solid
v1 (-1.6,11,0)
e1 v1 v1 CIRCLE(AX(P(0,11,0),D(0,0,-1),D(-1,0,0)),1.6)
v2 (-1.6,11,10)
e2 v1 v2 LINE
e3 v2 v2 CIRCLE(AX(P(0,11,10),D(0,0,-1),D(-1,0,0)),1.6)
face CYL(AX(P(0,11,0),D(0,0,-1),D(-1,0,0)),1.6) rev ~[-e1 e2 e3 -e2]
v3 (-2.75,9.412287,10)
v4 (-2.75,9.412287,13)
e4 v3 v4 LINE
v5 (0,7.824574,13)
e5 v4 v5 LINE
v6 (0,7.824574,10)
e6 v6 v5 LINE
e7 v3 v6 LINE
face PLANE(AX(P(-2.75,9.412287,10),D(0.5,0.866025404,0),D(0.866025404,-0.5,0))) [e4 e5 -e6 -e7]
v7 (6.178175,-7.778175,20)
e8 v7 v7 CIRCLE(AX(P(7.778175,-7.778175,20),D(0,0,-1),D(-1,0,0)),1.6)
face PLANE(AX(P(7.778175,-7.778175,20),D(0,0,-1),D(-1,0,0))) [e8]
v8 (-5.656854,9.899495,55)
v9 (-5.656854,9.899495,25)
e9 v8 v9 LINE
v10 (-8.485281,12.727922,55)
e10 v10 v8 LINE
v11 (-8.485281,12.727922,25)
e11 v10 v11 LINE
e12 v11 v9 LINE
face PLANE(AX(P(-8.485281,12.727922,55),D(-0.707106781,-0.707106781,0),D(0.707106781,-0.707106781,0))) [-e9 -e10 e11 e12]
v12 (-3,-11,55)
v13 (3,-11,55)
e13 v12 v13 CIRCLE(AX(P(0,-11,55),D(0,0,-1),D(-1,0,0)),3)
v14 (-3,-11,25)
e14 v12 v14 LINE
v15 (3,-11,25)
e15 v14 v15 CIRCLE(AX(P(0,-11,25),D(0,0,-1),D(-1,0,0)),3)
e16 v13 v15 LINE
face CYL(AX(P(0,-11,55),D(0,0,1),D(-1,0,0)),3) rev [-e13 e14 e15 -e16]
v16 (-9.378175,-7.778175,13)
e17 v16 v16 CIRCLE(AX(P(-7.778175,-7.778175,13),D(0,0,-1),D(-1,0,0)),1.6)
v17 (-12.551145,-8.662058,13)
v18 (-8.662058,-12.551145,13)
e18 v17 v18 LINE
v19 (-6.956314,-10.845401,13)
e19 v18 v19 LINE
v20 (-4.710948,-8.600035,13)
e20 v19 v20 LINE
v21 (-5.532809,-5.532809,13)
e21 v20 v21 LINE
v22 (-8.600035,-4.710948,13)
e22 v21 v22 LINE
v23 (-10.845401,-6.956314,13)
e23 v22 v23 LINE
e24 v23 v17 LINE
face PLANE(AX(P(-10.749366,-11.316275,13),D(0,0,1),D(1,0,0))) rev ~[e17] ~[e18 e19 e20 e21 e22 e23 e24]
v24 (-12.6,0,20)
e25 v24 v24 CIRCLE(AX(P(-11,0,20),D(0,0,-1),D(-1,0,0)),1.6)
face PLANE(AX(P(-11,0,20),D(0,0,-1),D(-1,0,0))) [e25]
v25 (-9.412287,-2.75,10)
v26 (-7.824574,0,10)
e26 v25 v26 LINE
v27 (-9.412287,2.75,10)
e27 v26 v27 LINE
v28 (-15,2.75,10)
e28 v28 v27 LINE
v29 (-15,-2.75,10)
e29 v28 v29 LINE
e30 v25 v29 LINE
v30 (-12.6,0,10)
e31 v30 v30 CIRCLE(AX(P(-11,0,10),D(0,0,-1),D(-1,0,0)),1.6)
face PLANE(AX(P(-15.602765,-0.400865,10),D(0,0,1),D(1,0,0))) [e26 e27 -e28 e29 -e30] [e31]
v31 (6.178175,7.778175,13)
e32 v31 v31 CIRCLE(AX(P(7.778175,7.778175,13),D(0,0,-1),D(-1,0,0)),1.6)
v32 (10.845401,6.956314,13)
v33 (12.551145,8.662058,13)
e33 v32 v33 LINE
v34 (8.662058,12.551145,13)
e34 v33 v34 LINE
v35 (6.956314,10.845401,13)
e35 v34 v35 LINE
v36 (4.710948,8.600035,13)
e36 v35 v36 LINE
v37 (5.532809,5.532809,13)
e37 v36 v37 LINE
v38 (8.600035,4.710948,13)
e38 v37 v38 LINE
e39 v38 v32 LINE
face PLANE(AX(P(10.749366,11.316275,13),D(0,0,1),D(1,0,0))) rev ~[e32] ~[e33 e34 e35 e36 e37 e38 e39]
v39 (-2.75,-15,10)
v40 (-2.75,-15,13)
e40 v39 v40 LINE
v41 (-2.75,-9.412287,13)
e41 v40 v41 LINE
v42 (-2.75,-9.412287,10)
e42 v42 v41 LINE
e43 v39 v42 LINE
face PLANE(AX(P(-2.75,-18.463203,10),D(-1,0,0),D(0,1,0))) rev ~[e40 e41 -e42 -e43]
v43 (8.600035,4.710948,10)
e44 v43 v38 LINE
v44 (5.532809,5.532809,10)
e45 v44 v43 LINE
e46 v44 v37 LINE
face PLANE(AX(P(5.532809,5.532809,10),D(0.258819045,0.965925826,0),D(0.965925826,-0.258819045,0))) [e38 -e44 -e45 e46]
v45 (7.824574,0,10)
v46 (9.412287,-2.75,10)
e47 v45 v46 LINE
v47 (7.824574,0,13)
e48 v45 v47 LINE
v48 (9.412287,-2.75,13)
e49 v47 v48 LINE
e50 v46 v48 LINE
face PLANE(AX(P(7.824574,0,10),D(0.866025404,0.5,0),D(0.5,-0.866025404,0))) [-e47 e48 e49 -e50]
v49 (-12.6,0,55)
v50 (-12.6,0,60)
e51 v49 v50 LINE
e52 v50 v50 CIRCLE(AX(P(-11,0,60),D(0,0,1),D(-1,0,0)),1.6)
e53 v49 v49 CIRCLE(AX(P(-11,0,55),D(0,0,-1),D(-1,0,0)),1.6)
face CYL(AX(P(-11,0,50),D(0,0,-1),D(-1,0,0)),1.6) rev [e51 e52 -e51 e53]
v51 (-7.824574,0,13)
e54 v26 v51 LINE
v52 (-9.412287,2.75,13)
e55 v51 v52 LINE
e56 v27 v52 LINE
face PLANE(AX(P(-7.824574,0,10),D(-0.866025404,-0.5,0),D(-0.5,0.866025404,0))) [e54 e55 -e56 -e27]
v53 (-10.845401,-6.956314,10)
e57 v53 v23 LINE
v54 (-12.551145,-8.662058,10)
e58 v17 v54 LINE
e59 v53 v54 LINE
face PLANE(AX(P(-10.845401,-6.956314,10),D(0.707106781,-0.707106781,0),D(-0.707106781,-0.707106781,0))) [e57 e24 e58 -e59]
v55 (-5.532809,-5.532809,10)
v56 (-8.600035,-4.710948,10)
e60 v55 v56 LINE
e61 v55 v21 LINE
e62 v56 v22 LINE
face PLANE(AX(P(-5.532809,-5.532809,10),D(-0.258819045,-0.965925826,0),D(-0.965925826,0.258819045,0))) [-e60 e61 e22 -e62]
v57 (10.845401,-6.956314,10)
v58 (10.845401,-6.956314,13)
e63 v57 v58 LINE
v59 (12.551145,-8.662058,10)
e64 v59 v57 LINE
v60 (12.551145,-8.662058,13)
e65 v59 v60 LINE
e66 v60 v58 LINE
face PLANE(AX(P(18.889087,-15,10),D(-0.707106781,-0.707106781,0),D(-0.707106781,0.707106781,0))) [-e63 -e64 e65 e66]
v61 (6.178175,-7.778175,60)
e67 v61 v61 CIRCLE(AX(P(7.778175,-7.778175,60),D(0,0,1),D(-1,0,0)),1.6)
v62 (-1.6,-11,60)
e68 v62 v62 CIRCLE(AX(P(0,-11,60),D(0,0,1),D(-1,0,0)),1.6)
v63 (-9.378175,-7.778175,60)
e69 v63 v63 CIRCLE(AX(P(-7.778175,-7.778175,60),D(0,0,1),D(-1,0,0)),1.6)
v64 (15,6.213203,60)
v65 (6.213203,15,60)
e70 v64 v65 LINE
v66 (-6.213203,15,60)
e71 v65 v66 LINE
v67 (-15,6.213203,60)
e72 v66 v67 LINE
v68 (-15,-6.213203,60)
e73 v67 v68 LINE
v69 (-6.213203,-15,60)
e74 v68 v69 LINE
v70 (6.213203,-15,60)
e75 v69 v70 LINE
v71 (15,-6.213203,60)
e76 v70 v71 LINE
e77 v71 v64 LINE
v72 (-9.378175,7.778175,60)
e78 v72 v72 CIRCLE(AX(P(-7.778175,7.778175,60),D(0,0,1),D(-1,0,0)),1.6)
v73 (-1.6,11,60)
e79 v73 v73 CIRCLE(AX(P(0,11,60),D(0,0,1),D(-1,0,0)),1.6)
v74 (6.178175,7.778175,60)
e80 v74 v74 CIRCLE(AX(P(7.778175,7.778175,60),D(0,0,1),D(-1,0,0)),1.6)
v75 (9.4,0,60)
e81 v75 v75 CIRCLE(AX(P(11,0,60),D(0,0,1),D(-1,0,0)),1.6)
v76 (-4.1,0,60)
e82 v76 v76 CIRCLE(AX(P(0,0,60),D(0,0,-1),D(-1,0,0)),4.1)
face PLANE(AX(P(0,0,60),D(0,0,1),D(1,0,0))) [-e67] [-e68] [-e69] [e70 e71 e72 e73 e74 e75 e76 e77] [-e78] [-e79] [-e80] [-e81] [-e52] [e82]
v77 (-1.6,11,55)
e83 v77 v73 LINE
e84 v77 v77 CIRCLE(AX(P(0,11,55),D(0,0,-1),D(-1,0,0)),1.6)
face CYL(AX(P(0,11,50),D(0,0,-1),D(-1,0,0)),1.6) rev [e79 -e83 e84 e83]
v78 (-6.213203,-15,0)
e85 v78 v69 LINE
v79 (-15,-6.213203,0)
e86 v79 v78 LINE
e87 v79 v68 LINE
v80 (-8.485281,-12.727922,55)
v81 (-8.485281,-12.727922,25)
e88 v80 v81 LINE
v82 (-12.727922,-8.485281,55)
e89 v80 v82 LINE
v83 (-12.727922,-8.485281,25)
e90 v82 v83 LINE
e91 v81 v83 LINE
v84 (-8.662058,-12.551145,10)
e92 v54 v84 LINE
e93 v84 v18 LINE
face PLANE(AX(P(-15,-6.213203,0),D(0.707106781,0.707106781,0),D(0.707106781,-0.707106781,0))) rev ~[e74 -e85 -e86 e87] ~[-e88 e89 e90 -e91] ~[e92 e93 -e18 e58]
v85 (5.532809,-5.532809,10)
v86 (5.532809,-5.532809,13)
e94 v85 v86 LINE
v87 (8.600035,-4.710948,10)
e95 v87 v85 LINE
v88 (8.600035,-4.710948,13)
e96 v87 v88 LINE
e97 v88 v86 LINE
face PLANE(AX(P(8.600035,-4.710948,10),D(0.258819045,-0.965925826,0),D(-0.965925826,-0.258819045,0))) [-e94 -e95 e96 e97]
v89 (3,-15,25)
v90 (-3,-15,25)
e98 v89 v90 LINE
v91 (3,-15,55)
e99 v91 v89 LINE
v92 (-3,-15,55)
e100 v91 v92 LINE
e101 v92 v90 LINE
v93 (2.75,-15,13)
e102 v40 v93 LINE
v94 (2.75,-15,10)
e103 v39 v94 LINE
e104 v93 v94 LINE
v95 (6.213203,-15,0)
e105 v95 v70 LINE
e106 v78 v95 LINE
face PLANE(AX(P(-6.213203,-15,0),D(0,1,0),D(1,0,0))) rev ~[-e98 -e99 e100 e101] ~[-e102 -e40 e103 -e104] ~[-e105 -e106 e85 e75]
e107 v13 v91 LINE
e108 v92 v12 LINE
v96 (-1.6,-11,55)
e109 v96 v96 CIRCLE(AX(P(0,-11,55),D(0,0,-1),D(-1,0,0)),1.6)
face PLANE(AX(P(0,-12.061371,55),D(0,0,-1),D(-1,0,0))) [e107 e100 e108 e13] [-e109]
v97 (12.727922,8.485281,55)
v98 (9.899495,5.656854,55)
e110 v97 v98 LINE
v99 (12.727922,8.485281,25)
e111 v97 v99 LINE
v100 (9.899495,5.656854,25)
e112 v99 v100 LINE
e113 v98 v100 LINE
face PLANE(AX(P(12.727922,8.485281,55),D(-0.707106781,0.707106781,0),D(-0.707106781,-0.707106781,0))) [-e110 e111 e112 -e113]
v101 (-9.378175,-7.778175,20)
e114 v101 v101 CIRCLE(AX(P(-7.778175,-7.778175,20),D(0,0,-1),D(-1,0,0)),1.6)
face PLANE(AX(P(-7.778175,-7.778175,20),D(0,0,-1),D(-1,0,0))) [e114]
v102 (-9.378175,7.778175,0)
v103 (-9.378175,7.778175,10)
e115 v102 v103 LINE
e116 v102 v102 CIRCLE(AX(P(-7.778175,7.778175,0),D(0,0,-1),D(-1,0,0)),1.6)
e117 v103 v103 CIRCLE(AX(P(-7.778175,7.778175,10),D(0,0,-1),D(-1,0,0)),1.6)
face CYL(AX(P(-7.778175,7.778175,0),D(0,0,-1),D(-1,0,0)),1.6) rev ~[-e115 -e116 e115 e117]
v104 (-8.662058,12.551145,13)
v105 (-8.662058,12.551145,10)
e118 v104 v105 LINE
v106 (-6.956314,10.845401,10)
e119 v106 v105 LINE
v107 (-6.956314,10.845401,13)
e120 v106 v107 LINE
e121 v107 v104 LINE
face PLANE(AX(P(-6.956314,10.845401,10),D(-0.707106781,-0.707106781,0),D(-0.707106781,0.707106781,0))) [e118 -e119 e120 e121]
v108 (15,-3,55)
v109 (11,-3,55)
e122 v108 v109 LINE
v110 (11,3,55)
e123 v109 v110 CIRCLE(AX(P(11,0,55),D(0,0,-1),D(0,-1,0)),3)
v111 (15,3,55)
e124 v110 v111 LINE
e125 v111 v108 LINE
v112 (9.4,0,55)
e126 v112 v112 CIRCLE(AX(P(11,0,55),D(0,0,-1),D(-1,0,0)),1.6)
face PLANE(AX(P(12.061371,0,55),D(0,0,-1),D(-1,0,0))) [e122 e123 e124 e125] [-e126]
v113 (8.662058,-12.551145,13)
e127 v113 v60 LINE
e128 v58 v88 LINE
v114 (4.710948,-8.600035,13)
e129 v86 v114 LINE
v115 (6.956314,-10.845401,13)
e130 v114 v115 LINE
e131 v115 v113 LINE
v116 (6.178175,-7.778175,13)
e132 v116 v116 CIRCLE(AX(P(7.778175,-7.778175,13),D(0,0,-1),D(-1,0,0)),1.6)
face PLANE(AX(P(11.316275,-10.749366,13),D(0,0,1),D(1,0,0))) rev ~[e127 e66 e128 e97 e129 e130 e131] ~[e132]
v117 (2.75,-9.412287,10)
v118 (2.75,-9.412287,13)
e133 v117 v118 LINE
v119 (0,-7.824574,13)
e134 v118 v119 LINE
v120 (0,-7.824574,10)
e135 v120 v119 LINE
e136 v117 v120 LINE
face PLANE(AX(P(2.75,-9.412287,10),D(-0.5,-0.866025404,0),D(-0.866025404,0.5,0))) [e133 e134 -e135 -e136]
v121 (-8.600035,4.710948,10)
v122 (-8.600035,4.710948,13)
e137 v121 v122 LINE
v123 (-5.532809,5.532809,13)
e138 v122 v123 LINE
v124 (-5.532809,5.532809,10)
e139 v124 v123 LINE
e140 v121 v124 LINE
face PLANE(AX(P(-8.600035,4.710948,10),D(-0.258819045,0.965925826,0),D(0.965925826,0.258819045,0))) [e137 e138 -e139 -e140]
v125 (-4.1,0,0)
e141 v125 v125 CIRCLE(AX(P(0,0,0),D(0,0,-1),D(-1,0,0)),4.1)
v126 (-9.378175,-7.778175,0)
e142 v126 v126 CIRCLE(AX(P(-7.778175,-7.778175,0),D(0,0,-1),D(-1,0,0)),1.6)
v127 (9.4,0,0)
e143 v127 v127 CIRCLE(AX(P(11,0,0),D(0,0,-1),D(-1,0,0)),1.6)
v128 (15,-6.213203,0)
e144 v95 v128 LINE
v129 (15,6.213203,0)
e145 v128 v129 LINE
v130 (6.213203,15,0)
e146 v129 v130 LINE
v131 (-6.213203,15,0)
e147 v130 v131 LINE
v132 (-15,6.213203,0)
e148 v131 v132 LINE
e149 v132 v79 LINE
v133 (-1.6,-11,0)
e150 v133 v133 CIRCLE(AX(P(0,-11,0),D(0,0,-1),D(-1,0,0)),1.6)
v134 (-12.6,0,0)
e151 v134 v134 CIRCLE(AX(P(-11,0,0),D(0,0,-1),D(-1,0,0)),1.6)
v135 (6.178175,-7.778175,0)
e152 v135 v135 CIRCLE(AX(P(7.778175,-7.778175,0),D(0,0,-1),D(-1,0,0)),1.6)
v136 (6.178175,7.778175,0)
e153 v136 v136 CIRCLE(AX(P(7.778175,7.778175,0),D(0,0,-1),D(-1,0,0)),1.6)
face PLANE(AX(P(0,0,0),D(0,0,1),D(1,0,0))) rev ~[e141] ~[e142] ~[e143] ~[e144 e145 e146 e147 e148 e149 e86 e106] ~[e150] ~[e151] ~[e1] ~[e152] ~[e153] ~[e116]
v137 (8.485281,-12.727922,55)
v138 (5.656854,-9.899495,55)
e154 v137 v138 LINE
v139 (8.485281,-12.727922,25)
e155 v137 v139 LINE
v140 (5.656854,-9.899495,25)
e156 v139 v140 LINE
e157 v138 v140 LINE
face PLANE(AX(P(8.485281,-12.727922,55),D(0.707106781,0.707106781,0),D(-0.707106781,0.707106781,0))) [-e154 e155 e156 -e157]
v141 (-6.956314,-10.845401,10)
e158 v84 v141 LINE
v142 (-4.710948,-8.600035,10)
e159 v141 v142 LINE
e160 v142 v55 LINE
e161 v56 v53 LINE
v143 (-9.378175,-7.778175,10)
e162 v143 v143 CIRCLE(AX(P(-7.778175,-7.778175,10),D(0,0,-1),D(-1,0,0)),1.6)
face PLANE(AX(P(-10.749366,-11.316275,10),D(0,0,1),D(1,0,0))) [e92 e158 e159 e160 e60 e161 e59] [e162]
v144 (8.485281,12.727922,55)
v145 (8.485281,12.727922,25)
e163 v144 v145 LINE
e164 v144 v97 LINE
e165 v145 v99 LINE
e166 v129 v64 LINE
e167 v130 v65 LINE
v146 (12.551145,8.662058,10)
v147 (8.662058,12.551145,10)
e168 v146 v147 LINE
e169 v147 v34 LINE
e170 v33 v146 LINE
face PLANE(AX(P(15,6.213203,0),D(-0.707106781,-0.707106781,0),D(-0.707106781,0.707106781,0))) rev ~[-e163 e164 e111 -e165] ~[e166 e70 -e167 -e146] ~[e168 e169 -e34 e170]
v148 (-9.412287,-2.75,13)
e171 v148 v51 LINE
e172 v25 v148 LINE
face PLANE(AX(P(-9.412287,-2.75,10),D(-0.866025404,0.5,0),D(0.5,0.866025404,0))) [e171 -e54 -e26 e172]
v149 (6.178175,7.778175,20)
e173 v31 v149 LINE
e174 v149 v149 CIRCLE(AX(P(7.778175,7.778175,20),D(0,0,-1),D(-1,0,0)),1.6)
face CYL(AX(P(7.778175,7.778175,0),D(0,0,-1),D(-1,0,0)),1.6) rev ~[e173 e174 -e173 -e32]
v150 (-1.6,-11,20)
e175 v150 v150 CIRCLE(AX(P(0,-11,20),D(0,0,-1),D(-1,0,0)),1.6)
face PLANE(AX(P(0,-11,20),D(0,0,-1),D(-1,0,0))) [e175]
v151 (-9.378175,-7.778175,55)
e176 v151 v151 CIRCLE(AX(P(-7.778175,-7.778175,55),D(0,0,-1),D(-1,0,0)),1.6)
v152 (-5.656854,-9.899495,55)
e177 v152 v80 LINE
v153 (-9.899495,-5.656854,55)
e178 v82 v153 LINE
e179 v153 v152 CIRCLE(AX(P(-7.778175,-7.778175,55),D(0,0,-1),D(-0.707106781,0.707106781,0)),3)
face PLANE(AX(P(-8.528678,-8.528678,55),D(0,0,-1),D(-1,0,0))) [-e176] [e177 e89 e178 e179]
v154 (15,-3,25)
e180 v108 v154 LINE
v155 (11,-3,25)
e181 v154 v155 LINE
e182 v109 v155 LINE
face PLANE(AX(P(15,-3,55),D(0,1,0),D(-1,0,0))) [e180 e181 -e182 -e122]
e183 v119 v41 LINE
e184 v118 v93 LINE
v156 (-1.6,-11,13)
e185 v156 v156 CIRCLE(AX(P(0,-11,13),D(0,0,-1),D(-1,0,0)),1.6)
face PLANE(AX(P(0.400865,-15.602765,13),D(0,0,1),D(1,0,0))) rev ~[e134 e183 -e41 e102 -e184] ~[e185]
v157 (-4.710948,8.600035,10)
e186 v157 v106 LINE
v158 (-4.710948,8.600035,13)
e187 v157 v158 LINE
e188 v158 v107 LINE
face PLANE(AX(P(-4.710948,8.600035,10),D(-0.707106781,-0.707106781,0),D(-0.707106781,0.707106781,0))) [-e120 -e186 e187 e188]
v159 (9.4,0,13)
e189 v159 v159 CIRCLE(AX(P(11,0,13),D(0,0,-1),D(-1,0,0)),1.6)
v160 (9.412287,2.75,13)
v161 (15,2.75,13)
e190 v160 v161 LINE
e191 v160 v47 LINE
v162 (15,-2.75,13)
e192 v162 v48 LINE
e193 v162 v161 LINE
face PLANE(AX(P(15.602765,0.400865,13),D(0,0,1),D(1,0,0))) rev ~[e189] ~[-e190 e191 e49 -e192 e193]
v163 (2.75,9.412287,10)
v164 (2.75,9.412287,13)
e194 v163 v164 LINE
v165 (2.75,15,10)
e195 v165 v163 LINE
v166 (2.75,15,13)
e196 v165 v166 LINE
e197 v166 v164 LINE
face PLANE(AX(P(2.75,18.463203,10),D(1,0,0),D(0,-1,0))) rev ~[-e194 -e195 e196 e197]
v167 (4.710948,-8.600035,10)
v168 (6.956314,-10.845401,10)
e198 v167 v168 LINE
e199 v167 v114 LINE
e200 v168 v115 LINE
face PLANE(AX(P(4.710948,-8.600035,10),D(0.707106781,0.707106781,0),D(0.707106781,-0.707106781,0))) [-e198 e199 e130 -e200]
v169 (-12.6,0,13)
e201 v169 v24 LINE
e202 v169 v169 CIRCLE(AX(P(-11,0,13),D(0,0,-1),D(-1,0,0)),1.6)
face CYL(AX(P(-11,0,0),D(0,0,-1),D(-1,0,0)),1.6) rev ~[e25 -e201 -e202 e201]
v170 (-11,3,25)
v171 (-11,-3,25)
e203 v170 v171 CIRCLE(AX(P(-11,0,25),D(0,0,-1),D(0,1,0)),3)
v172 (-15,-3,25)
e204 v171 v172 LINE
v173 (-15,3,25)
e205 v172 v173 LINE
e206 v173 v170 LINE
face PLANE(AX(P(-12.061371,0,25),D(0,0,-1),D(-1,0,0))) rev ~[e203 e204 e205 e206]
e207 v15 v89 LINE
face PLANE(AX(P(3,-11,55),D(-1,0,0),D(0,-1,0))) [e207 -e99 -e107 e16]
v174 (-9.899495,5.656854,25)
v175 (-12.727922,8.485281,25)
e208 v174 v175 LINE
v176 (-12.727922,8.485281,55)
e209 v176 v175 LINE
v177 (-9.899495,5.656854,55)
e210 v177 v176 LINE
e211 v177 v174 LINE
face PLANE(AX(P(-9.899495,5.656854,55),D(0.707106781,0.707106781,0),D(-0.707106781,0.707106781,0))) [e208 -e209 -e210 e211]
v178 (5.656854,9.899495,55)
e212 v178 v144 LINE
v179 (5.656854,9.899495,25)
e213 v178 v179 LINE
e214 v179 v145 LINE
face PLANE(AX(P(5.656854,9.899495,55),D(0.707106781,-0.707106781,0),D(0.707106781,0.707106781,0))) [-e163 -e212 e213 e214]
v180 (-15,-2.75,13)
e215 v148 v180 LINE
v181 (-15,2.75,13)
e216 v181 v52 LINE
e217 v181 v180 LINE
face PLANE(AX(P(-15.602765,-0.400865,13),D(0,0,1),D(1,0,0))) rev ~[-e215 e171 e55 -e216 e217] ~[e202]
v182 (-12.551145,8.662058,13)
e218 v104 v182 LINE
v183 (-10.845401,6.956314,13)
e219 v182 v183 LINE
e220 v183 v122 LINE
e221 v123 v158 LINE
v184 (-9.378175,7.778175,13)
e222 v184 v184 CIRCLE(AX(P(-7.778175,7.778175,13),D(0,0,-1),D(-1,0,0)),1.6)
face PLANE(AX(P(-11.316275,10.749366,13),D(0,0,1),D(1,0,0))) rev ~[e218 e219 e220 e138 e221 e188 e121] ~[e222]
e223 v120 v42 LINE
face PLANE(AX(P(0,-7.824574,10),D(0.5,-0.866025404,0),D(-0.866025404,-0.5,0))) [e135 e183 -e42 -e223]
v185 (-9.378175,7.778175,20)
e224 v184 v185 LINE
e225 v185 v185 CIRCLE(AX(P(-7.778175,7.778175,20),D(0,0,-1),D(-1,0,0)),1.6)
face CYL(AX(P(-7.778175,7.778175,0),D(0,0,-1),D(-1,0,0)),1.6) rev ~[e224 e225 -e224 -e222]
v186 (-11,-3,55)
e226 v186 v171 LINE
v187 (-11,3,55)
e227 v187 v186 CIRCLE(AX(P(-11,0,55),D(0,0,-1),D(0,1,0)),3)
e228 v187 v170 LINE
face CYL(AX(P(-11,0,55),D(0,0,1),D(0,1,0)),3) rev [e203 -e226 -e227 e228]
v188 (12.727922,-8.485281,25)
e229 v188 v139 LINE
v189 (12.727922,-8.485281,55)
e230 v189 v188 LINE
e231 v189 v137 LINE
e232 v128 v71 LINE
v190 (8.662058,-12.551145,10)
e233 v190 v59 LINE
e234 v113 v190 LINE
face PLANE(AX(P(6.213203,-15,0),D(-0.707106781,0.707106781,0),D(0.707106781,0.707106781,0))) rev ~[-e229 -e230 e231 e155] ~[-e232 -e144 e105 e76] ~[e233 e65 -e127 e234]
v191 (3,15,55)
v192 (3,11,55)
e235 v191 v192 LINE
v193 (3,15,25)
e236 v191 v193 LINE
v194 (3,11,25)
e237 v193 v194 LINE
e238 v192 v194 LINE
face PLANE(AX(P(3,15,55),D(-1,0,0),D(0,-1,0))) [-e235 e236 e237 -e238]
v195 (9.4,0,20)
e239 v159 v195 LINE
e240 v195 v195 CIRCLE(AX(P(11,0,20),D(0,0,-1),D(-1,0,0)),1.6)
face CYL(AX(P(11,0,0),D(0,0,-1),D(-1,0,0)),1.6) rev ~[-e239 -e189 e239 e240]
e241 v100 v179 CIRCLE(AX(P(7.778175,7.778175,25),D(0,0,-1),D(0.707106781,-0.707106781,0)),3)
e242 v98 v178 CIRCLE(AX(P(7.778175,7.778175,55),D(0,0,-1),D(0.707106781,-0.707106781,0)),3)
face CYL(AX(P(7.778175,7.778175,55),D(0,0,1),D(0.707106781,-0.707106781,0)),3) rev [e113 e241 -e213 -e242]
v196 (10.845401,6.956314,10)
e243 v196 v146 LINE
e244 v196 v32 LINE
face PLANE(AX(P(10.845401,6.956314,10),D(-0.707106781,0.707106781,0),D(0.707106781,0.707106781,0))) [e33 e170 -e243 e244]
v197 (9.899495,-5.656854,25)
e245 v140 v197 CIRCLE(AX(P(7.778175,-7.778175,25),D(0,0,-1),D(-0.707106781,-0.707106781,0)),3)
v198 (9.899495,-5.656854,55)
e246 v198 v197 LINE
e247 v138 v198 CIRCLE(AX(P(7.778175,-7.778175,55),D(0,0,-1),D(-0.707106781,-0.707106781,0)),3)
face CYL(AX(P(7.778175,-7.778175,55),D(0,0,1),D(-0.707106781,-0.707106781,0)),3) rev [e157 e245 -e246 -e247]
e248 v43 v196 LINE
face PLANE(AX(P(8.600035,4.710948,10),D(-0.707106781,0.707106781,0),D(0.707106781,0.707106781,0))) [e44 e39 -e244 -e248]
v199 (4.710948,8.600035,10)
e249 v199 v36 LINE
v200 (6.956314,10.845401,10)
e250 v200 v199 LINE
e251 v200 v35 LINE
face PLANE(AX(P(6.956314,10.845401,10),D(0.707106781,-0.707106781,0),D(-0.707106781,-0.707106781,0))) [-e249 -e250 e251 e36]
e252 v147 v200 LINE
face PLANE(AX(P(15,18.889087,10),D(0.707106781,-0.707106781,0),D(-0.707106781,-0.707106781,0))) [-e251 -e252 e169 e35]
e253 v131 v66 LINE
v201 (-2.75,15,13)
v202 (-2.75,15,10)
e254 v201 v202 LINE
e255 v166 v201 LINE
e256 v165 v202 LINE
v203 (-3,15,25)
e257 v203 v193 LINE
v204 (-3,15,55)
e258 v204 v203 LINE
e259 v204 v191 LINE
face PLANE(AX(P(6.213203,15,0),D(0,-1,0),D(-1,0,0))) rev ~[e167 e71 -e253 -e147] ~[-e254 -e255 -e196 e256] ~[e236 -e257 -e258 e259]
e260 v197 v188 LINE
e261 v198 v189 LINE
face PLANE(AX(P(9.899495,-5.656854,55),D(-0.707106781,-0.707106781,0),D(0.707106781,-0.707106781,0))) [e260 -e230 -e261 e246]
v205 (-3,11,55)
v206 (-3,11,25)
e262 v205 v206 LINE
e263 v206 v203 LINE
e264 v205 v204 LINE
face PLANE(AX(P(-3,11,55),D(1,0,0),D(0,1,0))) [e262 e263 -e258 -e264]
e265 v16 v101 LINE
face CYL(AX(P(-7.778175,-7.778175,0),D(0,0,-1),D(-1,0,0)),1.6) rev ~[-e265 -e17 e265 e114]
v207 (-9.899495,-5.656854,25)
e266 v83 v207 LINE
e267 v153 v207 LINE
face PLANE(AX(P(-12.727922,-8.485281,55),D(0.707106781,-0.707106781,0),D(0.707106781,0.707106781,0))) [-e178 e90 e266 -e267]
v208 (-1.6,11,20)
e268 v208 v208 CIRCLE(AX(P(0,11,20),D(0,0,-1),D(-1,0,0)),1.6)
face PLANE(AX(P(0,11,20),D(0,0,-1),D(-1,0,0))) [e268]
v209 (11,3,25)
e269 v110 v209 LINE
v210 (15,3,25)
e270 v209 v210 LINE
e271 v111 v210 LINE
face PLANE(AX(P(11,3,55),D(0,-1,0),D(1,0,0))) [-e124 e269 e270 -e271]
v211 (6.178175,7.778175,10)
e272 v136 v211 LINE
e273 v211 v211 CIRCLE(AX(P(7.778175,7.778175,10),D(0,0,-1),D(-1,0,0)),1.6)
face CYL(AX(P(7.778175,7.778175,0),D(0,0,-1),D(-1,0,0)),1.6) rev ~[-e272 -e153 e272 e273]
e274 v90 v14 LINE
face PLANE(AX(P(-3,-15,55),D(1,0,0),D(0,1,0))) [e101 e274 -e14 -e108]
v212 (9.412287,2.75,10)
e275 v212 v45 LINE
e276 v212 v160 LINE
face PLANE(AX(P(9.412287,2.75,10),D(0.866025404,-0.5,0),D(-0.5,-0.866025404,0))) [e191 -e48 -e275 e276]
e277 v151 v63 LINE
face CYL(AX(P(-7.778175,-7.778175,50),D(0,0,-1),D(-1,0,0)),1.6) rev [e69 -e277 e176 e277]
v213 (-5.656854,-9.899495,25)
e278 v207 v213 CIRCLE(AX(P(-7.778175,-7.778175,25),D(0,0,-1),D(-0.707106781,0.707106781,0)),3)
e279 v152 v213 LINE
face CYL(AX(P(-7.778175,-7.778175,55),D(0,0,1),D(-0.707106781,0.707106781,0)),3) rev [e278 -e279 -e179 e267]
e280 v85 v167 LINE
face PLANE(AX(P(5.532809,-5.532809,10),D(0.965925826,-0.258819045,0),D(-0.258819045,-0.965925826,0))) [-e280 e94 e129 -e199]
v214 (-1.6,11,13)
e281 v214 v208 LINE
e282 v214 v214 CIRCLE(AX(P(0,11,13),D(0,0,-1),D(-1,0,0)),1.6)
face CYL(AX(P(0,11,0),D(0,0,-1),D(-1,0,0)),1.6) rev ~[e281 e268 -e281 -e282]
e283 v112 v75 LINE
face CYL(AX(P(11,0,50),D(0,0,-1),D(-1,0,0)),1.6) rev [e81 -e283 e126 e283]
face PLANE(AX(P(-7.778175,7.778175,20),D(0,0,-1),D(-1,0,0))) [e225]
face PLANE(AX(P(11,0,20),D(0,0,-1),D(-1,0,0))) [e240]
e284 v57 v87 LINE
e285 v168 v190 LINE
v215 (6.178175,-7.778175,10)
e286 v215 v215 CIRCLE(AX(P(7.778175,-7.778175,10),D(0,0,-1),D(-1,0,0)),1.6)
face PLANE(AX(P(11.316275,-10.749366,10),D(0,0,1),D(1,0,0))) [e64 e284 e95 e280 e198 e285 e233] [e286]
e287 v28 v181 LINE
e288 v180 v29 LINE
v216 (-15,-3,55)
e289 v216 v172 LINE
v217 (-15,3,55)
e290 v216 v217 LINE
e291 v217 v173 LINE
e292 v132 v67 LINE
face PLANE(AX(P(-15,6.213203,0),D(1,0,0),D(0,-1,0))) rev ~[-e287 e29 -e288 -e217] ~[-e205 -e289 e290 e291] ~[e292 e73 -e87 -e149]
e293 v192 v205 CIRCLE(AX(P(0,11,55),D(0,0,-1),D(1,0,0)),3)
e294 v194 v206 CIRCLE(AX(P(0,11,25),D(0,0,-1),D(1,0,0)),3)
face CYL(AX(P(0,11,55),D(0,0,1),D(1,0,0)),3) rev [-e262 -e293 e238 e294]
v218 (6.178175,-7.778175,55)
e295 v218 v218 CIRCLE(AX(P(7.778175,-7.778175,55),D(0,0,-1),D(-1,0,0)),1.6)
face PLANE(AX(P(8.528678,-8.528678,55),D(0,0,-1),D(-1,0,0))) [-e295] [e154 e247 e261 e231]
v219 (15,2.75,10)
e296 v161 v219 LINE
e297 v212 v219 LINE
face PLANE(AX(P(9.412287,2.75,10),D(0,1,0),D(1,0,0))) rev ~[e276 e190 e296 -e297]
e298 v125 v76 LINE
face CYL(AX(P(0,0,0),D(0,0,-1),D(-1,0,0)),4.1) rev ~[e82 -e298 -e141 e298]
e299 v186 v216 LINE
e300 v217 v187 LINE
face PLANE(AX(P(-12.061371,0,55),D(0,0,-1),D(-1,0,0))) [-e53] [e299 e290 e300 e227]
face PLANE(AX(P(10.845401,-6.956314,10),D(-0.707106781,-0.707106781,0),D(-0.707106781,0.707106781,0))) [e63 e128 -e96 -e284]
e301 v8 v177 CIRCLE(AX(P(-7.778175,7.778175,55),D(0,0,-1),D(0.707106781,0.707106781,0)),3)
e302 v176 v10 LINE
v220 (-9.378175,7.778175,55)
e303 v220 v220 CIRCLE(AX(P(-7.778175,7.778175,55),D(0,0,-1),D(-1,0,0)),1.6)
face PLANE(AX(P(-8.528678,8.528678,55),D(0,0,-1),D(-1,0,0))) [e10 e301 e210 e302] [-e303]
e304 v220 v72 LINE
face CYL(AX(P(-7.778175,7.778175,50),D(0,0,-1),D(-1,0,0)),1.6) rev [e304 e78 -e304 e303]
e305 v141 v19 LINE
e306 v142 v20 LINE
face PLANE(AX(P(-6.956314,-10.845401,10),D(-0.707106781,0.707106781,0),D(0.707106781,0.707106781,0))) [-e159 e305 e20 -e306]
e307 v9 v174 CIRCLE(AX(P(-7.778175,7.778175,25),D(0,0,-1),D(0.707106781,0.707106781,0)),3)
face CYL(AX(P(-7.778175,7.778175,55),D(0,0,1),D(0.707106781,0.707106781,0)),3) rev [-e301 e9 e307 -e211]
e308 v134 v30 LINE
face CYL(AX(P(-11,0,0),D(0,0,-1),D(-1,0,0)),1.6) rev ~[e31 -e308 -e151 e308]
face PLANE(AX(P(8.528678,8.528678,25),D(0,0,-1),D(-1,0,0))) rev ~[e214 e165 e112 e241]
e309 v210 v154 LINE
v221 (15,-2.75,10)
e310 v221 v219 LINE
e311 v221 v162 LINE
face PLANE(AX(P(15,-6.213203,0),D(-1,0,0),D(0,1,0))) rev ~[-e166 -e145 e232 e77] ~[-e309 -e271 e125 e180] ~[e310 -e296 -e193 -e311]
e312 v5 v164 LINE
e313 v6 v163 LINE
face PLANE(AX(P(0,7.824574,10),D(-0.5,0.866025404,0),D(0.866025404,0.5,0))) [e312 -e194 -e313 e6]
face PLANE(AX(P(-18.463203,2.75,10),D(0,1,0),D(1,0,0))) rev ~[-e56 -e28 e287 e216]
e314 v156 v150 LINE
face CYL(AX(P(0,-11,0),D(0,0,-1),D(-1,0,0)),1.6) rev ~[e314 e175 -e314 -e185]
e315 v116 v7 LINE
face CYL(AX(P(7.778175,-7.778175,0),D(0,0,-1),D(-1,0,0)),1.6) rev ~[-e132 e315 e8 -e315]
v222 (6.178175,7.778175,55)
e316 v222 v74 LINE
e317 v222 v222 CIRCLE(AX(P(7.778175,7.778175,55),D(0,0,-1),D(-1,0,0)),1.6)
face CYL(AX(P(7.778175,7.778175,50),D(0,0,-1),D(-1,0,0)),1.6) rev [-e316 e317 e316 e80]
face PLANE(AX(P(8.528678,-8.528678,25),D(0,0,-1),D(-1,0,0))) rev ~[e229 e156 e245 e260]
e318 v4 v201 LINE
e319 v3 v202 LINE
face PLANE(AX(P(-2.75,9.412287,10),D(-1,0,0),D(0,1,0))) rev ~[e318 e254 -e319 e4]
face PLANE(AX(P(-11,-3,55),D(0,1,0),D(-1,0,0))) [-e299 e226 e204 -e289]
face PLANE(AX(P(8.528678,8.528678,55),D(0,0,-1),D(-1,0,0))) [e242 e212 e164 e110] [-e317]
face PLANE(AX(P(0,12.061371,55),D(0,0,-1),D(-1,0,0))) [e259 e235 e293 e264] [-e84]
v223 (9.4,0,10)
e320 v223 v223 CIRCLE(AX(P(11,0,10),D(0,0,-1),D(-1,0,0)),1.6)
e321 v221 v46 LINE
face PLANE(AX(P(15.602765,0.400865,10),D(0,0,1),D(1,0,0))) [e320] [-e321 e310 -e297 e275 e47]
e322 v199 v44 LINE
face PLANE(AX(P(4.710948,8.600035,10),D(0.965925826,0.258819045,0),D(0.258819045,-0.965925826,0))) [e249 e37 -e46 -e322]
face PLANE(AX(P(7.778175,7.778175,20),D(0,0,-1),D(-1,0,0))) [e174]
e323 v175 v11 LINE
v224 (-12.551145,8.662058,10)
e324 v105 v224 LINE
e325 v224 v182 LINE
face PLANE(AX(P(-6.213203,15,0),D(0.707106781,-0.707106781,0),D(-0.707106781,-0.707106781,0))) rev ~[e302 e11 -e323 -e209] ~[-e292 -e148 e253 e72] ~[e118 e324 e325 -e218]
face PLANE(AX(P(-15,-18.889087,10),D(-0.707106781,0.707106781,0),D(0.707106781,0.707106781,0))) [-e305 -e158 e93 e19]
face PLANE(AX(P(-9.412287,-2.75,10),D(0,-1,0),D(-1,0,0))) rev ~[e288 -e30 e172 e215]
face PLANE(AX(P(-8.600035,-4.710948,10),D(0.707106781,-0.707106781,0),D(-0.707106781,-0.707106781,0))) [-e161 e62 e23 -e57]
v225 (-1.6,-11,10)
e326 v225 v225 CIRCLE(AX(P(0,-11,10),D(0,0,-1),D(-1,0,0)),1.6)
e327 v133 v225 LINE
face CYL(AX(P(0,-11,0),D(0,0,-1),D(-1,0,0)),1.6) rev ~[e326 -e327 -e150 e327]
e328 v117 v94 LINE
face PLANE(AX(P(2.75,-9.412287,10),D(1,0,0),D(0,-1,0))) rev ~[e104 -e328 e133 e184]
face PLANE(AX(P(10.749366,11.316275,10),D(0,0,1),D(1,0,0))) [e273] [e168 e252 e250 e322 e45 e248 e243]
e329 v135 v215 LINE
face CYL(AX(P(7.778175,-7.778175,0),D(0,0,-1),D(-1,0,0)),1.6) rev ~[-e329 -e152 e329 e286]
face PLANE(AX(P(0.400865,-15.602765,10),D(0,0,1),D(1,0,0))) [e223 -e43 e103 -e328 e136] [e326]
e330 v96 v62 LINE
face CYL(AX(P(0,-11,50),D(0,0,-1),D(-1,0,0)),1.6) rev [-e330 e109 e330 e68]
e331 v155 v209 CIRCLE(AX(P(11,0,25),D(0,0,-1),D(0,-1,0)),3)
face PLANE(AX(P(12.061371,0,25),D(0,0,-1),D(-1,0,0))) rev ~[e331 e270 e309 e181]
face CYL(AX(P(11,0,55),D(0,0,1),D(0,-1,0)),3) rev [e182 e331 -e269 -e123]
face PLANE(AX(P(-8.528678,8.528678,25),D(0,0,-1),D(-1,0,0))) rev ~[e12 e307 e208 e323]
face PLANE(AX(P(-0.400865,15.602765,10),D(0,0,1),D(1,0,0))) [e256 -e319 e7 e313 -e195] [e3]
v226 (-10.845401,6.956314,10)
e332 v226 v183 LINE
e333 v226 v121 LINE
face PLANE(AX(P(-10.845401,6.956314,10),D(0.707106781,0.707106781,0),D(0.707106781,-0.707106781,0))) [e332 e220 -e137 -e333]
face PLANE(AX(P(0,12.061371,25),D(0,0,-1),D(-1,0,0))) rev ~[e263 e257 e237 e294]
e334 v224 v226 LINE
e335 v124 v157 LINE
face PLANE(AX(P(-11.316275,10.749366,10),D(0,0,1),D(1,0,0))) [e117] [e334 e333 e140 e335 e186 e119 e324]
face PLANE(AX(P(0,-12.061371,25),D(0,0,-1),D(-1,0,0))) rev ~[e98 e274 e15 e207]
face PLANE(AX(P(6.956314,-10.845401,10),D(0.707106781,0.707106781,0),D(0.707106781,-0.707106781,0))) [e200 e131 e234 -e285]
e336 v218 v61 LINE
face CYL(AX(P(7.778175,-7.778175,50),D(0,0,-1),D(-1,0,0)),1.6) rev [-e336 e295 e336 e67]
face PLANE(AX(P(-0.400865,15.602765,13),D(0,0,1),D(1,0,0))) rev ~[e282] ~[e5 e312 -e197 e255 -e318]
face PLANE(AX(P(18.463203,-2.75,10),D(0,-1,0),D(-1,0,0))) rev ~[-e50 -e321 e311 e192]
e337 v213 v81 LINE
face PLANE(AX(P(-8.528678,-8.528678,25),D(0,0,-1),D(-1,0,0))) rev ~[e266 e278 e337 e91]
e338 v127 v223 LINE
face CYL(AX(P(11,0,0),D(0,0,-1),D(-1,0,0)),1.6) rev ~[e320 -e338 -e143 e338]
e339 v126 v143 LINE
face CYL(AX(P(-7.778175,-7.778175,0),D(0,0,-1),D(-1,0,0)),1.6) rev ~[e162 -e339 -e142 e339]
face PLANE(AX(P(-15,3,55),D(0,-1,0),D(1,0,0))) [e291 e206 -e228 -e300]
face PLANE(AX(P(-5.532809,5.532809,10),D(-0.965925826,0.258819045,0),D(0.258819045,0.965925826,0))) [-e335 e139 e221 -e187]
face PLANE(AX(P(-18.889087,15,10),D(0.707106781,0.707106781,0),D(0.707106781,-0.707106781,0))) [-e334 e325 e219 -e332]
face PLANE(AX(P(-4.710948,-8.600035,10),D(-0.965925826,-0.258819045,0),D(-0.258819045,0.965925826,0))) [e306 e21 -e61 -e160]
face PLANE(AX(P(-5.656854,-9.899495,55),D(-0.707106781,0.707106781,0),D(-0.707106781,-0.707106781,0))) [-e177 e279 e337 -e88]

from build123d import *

# Parameters (mm, degrees)
SALIENTE_EXTRUIR1_DEPTH = 60
CROQUIS2_R              = 1.6
CORTAR_EXTRUIR1_DEPTH   = 20
CORTAR_EXTRUIR2_START   = -10
CORTAR_EXTRUIR2_DEPTH   = 3
CROQUIS4_R              = 4.1
CORTAR_EXTRUIR3_DEPTH   = 64.639610307
CORTAR_EXTRUIR4_START   = -10
CROQUIS6_R              = 1.6
CORTAR_EXTRUIR4_DEPTH   = 10
CORTAR_EXTRUIR5_START   = -5
CORTAR_EXTRUIR5_DEPTH   = 30


with BuildPart() as part:
    # Croquis1 → Saliente-Extruir1 (new body)
    with BuildSketch(Plane.XY):
        Polygon((15, -6.213203436), (15, 6.213203436), (6.213203436, 15), (-6.213203436, 15), (-15, 6.213203436), (-15, -6.213203436), (-6.213203436, -15), (6.213203436, -15), align=None)
    extrude(amount=SALIENTE_EXTRUIR1_DEPTH)

    # Croquis2 → Cortar-Extruir1 (cut)
    with BuildSketch(Plane(origin=(0, 0, 0), x_dir=(-1, 0, 0), z_dir=(0, 0, -1))):
        with Locations((0, 11)):
            Circle(CROQUIS2_R)
        with Locations((7.778174593, 7.778174593)):
            Circle(CROQUIS2_R)
        with Locations((11, 0)):
            Circle(CROQUIS2_R)
        with Locations((7.778174593, -7.778174593)):
            Circle(CROQUIS2_R)
        with Locations((0, -11)):
            Circle(CROQUIS2_R)
        with Locations((-7.778174593, -7.778174593)):
            Circle(CROQUIS2_R)
        with Locations((-11, 0)):
            Circle(CROQUIS2_R)
        with Locations((-7.778174593, 7.778174593)):
            Circle(CROQUIS2_R)
    extrude(amount=-CORTAR_EXTRUIR1_DEPTH, mode=Mode.SUBTRACT)

    # Croquis3 → Cortar-Extruir2 (cut)
    with BuildSketch(Plane(origin=(0, 0, 0), x_dir=(-1, 0, 0), z_dir=(0, 0, -1)).offset(CORTAR_EXTRUIR2_START)):
        Polygon((-2.75, 12.58771324), (-2.75, 18.463203436), (2.75, 23.963203436), (2.75, 12.58771324), (2.75, 9.41228676), (0, 7.824573519), (-2.75, 9.41228676), align=None)
        Polygon((6.956313744, 10.84540104), (11.110912703, 15), (18.889087297, 15), (10.84540104, 6.956313744), (8.600035443, 4.710948146), (5.532808996, 5.532808996), (4.710948146, 8.600035443), align=None)
        Polygon((12.58771324, 2.75), (18.463203436, 2.75), (23.963203436, -2.75), (12.58771324, -2.75), (9.41228676, -2.75), (7.824573519, 0), (9.41228676, 2.75), align=None)
        Polygon((10.84540104, -6.956313744), (15, -11.110912703), (15, -18.889087297), (6.956313744, -10.84540104), (4.710948146, -8.600035443), (5.532808996, -5.532808996), (8.600035443, -4.710948146), align=None)
        Polygon((2.75, -12.58771324), (2.75, -18.463203436), (-2.75, -23.963203436), (-2.75, -12.58771324), (-2.75, -9.41228676), (0, -7.824573519), (2.75, -9.41228676), align=None)
        Polygon((-6.956313744, -10.84540104), (-11.110912703, -15), (-18.889087297, -15), (-10.84540104, -6.956313744), (-8.600035443, -4.710948146), (-5.532808995, -5.532808996), (-4.710948146, -8.600035443), align=None)
        Polygon((-12.58771324, -2.75), (-18.463203436, -2.75), (-23.963203436, 2.75), (-12.58771324, 2.75), (-9.41228676, 2.75), (-7.824573519, 0), (-9.41228676, -2.75), align=None)
        Polygon((-10.84540104, 6.956313744), (-15, 11.110912703), (-15, 18.889087297), (-6.956313744, 10.84540104), (-4.710948146, 8.600035443), (-5.532808996, 5.532808996), (-8.600035443, 4.710948146), align=None)
    extrude(amount=-CORTAR_EXTRUIR2_DEPTH, mode=Mode.SUBTRACT)

    # Croquis4 → Cortar-Extruir3 (cut, through all)
    with BuildSketch(Plane(origin=(0, 0, 0), x_dir=(-1, 0, 0), z_dir=(0, 0, -1))):
        Circle(CROQUIS4_R)
    extrude(amount=-CORTAR_EXTRUIR3_DEPTH, mode=Mode.SUBTRACT)

    # Croquis6 → Cortar-Extruir4 (cut)
    with BuildSketch(Plane.XY.offset(60).offset(CORTAR_EXTRUIR4_START)):
        with Locations(Location((0, 11, 0), (0, 0, 180))):
            Circle(CROQUIS6_R)
        with Locations(Location((7.778174593, 7.778174593, 0), (0, 0, 180))):
            Circle(CROQUIS6_R)
        with Locations(Location((11, 0, 0), (0, 0, 180))):
            Circle(CROQUIS6_R)
        with Locations(Location((7.778174593, -7.778174593, 0), (0, 0, 180))):
            Circle(CROQUIS6_R)
        with Locations(Location((0, -11, 0), (0, 0, 180))):
            Circle(CROQUIS6_R)
        with Locations(Location((-7.778174593, -7.778174593, 0), (0, 0, 180))):
            Circle(CROQUIS6_R)
        with Locations(Location((-11, 0, 0), (0, 0, 180))):
            Circle(CROQUIS6_R)
        with Locations(Location((-7.778174593, 7.778174593, 0), (0, 0, 180))):
            Circle(CROQUIS6_R)
    extrude(amount=CORTAR_EXTRUIR4_DEPTH, mode=Mode.SUBTRACT)

    # Croquis7 → Cortar-Extruir5 (cut)
    with BuildSketch(Plane.XY.offset(60).offset(CORTAR_EXTRUIR5_START)):
        with BuildLine():
            Line((-3, 11), (-3, 15))
            Line((-3, 15), (3, 15))
            Line((3, 15), (3, 11))
            ThreePointArc((3, 11), (0, 8), (-3, 11))
        make_face()
        with BuildLine():
            Line((5.656854249, 9.899494937), (8.485281374, 12.727922061))
            Line((8.485281374, 12.727922061), (12.727922061, 8.485281374))
            Line((12.727922061, 8.485281374), (9.899494937, 5.656854249))
            ThreePointArc((9.899494937, 5.656854249), (5.656854249, 5.656854249), (5.656854249, 9.899494937))
        make_face()
        with BuildLine():
            Line((11, 3), (15, 3))
            Line((15, 3), (15, -3))
            Line((15, -3), (11, -3))
            ThreePointArc((11, -3), (8, 0), (11, 3))
        make_face()
        with BuildLine():
            Line((9.899494937, -5.656854249), (12.727922061, -8.485281374))
            Line((12.727922061, -8.485281374), (8.485281374, -12.727922061))
            Line((8.485281374, -12.727922061), (5.656854249, -9.899494937))
            ThreePointArc((5.656854249, -9.899494937), (5.656854249, -5.656854249), (9.899494937, -5.656854249))
        make_face()
        with BuildLine():
            Line((3, -11), (3, -15))
            Line((3, -15), (-3, -15))
            Line((-3, -15), (-3, -11))
            ThreePointArc((-3, -11), (0, -8), (3, -11))
        make_face()
        with BuildLine():
            Line((-5.656854249, -9.899494937), (-8.485281374, -12.727922061))
            Line((-8.485281374, -12.727922061), (-12.727922061, -8.485281374))
            Line((-12.727922061, -8.485281374), (-9.899494937, -5.656854249))
            ThreePointArc((-9.899494937, -5.656854249), (-5.656854249, -5.656854249), (-5.656854249, -9.899494937))
        make_face()
        with BuildLine():
            Line((-11, -3), (-15, -3))
            Line((-15, -3), (-15, 3))
            Line((-15, 3), (-11, 3))
            ThreePointArc((-11, 3), (-8, 0), (-11, -3))
        make_face()
        with BuildLine():
            Line((-9.899494937, 5.656854249), (-12.727922061, 8.485281374))
            Line((-12.727922061, 8.485281374), (-8.485281374, 12.727922061))
            Line((-8.485281374, 12.727922061), (-5.656854249, 9.899494937))
            ThreePointArc((-5.656854249, 9.899494937), (-5.656854249, 5.656854249), (-9.899494937, 5.656854249))
        make_face()
    extrude(amount=-CORTAR_EXTRUIR5_DEPTH, mode=Mode.SUBTRACT)


solid = part.part
